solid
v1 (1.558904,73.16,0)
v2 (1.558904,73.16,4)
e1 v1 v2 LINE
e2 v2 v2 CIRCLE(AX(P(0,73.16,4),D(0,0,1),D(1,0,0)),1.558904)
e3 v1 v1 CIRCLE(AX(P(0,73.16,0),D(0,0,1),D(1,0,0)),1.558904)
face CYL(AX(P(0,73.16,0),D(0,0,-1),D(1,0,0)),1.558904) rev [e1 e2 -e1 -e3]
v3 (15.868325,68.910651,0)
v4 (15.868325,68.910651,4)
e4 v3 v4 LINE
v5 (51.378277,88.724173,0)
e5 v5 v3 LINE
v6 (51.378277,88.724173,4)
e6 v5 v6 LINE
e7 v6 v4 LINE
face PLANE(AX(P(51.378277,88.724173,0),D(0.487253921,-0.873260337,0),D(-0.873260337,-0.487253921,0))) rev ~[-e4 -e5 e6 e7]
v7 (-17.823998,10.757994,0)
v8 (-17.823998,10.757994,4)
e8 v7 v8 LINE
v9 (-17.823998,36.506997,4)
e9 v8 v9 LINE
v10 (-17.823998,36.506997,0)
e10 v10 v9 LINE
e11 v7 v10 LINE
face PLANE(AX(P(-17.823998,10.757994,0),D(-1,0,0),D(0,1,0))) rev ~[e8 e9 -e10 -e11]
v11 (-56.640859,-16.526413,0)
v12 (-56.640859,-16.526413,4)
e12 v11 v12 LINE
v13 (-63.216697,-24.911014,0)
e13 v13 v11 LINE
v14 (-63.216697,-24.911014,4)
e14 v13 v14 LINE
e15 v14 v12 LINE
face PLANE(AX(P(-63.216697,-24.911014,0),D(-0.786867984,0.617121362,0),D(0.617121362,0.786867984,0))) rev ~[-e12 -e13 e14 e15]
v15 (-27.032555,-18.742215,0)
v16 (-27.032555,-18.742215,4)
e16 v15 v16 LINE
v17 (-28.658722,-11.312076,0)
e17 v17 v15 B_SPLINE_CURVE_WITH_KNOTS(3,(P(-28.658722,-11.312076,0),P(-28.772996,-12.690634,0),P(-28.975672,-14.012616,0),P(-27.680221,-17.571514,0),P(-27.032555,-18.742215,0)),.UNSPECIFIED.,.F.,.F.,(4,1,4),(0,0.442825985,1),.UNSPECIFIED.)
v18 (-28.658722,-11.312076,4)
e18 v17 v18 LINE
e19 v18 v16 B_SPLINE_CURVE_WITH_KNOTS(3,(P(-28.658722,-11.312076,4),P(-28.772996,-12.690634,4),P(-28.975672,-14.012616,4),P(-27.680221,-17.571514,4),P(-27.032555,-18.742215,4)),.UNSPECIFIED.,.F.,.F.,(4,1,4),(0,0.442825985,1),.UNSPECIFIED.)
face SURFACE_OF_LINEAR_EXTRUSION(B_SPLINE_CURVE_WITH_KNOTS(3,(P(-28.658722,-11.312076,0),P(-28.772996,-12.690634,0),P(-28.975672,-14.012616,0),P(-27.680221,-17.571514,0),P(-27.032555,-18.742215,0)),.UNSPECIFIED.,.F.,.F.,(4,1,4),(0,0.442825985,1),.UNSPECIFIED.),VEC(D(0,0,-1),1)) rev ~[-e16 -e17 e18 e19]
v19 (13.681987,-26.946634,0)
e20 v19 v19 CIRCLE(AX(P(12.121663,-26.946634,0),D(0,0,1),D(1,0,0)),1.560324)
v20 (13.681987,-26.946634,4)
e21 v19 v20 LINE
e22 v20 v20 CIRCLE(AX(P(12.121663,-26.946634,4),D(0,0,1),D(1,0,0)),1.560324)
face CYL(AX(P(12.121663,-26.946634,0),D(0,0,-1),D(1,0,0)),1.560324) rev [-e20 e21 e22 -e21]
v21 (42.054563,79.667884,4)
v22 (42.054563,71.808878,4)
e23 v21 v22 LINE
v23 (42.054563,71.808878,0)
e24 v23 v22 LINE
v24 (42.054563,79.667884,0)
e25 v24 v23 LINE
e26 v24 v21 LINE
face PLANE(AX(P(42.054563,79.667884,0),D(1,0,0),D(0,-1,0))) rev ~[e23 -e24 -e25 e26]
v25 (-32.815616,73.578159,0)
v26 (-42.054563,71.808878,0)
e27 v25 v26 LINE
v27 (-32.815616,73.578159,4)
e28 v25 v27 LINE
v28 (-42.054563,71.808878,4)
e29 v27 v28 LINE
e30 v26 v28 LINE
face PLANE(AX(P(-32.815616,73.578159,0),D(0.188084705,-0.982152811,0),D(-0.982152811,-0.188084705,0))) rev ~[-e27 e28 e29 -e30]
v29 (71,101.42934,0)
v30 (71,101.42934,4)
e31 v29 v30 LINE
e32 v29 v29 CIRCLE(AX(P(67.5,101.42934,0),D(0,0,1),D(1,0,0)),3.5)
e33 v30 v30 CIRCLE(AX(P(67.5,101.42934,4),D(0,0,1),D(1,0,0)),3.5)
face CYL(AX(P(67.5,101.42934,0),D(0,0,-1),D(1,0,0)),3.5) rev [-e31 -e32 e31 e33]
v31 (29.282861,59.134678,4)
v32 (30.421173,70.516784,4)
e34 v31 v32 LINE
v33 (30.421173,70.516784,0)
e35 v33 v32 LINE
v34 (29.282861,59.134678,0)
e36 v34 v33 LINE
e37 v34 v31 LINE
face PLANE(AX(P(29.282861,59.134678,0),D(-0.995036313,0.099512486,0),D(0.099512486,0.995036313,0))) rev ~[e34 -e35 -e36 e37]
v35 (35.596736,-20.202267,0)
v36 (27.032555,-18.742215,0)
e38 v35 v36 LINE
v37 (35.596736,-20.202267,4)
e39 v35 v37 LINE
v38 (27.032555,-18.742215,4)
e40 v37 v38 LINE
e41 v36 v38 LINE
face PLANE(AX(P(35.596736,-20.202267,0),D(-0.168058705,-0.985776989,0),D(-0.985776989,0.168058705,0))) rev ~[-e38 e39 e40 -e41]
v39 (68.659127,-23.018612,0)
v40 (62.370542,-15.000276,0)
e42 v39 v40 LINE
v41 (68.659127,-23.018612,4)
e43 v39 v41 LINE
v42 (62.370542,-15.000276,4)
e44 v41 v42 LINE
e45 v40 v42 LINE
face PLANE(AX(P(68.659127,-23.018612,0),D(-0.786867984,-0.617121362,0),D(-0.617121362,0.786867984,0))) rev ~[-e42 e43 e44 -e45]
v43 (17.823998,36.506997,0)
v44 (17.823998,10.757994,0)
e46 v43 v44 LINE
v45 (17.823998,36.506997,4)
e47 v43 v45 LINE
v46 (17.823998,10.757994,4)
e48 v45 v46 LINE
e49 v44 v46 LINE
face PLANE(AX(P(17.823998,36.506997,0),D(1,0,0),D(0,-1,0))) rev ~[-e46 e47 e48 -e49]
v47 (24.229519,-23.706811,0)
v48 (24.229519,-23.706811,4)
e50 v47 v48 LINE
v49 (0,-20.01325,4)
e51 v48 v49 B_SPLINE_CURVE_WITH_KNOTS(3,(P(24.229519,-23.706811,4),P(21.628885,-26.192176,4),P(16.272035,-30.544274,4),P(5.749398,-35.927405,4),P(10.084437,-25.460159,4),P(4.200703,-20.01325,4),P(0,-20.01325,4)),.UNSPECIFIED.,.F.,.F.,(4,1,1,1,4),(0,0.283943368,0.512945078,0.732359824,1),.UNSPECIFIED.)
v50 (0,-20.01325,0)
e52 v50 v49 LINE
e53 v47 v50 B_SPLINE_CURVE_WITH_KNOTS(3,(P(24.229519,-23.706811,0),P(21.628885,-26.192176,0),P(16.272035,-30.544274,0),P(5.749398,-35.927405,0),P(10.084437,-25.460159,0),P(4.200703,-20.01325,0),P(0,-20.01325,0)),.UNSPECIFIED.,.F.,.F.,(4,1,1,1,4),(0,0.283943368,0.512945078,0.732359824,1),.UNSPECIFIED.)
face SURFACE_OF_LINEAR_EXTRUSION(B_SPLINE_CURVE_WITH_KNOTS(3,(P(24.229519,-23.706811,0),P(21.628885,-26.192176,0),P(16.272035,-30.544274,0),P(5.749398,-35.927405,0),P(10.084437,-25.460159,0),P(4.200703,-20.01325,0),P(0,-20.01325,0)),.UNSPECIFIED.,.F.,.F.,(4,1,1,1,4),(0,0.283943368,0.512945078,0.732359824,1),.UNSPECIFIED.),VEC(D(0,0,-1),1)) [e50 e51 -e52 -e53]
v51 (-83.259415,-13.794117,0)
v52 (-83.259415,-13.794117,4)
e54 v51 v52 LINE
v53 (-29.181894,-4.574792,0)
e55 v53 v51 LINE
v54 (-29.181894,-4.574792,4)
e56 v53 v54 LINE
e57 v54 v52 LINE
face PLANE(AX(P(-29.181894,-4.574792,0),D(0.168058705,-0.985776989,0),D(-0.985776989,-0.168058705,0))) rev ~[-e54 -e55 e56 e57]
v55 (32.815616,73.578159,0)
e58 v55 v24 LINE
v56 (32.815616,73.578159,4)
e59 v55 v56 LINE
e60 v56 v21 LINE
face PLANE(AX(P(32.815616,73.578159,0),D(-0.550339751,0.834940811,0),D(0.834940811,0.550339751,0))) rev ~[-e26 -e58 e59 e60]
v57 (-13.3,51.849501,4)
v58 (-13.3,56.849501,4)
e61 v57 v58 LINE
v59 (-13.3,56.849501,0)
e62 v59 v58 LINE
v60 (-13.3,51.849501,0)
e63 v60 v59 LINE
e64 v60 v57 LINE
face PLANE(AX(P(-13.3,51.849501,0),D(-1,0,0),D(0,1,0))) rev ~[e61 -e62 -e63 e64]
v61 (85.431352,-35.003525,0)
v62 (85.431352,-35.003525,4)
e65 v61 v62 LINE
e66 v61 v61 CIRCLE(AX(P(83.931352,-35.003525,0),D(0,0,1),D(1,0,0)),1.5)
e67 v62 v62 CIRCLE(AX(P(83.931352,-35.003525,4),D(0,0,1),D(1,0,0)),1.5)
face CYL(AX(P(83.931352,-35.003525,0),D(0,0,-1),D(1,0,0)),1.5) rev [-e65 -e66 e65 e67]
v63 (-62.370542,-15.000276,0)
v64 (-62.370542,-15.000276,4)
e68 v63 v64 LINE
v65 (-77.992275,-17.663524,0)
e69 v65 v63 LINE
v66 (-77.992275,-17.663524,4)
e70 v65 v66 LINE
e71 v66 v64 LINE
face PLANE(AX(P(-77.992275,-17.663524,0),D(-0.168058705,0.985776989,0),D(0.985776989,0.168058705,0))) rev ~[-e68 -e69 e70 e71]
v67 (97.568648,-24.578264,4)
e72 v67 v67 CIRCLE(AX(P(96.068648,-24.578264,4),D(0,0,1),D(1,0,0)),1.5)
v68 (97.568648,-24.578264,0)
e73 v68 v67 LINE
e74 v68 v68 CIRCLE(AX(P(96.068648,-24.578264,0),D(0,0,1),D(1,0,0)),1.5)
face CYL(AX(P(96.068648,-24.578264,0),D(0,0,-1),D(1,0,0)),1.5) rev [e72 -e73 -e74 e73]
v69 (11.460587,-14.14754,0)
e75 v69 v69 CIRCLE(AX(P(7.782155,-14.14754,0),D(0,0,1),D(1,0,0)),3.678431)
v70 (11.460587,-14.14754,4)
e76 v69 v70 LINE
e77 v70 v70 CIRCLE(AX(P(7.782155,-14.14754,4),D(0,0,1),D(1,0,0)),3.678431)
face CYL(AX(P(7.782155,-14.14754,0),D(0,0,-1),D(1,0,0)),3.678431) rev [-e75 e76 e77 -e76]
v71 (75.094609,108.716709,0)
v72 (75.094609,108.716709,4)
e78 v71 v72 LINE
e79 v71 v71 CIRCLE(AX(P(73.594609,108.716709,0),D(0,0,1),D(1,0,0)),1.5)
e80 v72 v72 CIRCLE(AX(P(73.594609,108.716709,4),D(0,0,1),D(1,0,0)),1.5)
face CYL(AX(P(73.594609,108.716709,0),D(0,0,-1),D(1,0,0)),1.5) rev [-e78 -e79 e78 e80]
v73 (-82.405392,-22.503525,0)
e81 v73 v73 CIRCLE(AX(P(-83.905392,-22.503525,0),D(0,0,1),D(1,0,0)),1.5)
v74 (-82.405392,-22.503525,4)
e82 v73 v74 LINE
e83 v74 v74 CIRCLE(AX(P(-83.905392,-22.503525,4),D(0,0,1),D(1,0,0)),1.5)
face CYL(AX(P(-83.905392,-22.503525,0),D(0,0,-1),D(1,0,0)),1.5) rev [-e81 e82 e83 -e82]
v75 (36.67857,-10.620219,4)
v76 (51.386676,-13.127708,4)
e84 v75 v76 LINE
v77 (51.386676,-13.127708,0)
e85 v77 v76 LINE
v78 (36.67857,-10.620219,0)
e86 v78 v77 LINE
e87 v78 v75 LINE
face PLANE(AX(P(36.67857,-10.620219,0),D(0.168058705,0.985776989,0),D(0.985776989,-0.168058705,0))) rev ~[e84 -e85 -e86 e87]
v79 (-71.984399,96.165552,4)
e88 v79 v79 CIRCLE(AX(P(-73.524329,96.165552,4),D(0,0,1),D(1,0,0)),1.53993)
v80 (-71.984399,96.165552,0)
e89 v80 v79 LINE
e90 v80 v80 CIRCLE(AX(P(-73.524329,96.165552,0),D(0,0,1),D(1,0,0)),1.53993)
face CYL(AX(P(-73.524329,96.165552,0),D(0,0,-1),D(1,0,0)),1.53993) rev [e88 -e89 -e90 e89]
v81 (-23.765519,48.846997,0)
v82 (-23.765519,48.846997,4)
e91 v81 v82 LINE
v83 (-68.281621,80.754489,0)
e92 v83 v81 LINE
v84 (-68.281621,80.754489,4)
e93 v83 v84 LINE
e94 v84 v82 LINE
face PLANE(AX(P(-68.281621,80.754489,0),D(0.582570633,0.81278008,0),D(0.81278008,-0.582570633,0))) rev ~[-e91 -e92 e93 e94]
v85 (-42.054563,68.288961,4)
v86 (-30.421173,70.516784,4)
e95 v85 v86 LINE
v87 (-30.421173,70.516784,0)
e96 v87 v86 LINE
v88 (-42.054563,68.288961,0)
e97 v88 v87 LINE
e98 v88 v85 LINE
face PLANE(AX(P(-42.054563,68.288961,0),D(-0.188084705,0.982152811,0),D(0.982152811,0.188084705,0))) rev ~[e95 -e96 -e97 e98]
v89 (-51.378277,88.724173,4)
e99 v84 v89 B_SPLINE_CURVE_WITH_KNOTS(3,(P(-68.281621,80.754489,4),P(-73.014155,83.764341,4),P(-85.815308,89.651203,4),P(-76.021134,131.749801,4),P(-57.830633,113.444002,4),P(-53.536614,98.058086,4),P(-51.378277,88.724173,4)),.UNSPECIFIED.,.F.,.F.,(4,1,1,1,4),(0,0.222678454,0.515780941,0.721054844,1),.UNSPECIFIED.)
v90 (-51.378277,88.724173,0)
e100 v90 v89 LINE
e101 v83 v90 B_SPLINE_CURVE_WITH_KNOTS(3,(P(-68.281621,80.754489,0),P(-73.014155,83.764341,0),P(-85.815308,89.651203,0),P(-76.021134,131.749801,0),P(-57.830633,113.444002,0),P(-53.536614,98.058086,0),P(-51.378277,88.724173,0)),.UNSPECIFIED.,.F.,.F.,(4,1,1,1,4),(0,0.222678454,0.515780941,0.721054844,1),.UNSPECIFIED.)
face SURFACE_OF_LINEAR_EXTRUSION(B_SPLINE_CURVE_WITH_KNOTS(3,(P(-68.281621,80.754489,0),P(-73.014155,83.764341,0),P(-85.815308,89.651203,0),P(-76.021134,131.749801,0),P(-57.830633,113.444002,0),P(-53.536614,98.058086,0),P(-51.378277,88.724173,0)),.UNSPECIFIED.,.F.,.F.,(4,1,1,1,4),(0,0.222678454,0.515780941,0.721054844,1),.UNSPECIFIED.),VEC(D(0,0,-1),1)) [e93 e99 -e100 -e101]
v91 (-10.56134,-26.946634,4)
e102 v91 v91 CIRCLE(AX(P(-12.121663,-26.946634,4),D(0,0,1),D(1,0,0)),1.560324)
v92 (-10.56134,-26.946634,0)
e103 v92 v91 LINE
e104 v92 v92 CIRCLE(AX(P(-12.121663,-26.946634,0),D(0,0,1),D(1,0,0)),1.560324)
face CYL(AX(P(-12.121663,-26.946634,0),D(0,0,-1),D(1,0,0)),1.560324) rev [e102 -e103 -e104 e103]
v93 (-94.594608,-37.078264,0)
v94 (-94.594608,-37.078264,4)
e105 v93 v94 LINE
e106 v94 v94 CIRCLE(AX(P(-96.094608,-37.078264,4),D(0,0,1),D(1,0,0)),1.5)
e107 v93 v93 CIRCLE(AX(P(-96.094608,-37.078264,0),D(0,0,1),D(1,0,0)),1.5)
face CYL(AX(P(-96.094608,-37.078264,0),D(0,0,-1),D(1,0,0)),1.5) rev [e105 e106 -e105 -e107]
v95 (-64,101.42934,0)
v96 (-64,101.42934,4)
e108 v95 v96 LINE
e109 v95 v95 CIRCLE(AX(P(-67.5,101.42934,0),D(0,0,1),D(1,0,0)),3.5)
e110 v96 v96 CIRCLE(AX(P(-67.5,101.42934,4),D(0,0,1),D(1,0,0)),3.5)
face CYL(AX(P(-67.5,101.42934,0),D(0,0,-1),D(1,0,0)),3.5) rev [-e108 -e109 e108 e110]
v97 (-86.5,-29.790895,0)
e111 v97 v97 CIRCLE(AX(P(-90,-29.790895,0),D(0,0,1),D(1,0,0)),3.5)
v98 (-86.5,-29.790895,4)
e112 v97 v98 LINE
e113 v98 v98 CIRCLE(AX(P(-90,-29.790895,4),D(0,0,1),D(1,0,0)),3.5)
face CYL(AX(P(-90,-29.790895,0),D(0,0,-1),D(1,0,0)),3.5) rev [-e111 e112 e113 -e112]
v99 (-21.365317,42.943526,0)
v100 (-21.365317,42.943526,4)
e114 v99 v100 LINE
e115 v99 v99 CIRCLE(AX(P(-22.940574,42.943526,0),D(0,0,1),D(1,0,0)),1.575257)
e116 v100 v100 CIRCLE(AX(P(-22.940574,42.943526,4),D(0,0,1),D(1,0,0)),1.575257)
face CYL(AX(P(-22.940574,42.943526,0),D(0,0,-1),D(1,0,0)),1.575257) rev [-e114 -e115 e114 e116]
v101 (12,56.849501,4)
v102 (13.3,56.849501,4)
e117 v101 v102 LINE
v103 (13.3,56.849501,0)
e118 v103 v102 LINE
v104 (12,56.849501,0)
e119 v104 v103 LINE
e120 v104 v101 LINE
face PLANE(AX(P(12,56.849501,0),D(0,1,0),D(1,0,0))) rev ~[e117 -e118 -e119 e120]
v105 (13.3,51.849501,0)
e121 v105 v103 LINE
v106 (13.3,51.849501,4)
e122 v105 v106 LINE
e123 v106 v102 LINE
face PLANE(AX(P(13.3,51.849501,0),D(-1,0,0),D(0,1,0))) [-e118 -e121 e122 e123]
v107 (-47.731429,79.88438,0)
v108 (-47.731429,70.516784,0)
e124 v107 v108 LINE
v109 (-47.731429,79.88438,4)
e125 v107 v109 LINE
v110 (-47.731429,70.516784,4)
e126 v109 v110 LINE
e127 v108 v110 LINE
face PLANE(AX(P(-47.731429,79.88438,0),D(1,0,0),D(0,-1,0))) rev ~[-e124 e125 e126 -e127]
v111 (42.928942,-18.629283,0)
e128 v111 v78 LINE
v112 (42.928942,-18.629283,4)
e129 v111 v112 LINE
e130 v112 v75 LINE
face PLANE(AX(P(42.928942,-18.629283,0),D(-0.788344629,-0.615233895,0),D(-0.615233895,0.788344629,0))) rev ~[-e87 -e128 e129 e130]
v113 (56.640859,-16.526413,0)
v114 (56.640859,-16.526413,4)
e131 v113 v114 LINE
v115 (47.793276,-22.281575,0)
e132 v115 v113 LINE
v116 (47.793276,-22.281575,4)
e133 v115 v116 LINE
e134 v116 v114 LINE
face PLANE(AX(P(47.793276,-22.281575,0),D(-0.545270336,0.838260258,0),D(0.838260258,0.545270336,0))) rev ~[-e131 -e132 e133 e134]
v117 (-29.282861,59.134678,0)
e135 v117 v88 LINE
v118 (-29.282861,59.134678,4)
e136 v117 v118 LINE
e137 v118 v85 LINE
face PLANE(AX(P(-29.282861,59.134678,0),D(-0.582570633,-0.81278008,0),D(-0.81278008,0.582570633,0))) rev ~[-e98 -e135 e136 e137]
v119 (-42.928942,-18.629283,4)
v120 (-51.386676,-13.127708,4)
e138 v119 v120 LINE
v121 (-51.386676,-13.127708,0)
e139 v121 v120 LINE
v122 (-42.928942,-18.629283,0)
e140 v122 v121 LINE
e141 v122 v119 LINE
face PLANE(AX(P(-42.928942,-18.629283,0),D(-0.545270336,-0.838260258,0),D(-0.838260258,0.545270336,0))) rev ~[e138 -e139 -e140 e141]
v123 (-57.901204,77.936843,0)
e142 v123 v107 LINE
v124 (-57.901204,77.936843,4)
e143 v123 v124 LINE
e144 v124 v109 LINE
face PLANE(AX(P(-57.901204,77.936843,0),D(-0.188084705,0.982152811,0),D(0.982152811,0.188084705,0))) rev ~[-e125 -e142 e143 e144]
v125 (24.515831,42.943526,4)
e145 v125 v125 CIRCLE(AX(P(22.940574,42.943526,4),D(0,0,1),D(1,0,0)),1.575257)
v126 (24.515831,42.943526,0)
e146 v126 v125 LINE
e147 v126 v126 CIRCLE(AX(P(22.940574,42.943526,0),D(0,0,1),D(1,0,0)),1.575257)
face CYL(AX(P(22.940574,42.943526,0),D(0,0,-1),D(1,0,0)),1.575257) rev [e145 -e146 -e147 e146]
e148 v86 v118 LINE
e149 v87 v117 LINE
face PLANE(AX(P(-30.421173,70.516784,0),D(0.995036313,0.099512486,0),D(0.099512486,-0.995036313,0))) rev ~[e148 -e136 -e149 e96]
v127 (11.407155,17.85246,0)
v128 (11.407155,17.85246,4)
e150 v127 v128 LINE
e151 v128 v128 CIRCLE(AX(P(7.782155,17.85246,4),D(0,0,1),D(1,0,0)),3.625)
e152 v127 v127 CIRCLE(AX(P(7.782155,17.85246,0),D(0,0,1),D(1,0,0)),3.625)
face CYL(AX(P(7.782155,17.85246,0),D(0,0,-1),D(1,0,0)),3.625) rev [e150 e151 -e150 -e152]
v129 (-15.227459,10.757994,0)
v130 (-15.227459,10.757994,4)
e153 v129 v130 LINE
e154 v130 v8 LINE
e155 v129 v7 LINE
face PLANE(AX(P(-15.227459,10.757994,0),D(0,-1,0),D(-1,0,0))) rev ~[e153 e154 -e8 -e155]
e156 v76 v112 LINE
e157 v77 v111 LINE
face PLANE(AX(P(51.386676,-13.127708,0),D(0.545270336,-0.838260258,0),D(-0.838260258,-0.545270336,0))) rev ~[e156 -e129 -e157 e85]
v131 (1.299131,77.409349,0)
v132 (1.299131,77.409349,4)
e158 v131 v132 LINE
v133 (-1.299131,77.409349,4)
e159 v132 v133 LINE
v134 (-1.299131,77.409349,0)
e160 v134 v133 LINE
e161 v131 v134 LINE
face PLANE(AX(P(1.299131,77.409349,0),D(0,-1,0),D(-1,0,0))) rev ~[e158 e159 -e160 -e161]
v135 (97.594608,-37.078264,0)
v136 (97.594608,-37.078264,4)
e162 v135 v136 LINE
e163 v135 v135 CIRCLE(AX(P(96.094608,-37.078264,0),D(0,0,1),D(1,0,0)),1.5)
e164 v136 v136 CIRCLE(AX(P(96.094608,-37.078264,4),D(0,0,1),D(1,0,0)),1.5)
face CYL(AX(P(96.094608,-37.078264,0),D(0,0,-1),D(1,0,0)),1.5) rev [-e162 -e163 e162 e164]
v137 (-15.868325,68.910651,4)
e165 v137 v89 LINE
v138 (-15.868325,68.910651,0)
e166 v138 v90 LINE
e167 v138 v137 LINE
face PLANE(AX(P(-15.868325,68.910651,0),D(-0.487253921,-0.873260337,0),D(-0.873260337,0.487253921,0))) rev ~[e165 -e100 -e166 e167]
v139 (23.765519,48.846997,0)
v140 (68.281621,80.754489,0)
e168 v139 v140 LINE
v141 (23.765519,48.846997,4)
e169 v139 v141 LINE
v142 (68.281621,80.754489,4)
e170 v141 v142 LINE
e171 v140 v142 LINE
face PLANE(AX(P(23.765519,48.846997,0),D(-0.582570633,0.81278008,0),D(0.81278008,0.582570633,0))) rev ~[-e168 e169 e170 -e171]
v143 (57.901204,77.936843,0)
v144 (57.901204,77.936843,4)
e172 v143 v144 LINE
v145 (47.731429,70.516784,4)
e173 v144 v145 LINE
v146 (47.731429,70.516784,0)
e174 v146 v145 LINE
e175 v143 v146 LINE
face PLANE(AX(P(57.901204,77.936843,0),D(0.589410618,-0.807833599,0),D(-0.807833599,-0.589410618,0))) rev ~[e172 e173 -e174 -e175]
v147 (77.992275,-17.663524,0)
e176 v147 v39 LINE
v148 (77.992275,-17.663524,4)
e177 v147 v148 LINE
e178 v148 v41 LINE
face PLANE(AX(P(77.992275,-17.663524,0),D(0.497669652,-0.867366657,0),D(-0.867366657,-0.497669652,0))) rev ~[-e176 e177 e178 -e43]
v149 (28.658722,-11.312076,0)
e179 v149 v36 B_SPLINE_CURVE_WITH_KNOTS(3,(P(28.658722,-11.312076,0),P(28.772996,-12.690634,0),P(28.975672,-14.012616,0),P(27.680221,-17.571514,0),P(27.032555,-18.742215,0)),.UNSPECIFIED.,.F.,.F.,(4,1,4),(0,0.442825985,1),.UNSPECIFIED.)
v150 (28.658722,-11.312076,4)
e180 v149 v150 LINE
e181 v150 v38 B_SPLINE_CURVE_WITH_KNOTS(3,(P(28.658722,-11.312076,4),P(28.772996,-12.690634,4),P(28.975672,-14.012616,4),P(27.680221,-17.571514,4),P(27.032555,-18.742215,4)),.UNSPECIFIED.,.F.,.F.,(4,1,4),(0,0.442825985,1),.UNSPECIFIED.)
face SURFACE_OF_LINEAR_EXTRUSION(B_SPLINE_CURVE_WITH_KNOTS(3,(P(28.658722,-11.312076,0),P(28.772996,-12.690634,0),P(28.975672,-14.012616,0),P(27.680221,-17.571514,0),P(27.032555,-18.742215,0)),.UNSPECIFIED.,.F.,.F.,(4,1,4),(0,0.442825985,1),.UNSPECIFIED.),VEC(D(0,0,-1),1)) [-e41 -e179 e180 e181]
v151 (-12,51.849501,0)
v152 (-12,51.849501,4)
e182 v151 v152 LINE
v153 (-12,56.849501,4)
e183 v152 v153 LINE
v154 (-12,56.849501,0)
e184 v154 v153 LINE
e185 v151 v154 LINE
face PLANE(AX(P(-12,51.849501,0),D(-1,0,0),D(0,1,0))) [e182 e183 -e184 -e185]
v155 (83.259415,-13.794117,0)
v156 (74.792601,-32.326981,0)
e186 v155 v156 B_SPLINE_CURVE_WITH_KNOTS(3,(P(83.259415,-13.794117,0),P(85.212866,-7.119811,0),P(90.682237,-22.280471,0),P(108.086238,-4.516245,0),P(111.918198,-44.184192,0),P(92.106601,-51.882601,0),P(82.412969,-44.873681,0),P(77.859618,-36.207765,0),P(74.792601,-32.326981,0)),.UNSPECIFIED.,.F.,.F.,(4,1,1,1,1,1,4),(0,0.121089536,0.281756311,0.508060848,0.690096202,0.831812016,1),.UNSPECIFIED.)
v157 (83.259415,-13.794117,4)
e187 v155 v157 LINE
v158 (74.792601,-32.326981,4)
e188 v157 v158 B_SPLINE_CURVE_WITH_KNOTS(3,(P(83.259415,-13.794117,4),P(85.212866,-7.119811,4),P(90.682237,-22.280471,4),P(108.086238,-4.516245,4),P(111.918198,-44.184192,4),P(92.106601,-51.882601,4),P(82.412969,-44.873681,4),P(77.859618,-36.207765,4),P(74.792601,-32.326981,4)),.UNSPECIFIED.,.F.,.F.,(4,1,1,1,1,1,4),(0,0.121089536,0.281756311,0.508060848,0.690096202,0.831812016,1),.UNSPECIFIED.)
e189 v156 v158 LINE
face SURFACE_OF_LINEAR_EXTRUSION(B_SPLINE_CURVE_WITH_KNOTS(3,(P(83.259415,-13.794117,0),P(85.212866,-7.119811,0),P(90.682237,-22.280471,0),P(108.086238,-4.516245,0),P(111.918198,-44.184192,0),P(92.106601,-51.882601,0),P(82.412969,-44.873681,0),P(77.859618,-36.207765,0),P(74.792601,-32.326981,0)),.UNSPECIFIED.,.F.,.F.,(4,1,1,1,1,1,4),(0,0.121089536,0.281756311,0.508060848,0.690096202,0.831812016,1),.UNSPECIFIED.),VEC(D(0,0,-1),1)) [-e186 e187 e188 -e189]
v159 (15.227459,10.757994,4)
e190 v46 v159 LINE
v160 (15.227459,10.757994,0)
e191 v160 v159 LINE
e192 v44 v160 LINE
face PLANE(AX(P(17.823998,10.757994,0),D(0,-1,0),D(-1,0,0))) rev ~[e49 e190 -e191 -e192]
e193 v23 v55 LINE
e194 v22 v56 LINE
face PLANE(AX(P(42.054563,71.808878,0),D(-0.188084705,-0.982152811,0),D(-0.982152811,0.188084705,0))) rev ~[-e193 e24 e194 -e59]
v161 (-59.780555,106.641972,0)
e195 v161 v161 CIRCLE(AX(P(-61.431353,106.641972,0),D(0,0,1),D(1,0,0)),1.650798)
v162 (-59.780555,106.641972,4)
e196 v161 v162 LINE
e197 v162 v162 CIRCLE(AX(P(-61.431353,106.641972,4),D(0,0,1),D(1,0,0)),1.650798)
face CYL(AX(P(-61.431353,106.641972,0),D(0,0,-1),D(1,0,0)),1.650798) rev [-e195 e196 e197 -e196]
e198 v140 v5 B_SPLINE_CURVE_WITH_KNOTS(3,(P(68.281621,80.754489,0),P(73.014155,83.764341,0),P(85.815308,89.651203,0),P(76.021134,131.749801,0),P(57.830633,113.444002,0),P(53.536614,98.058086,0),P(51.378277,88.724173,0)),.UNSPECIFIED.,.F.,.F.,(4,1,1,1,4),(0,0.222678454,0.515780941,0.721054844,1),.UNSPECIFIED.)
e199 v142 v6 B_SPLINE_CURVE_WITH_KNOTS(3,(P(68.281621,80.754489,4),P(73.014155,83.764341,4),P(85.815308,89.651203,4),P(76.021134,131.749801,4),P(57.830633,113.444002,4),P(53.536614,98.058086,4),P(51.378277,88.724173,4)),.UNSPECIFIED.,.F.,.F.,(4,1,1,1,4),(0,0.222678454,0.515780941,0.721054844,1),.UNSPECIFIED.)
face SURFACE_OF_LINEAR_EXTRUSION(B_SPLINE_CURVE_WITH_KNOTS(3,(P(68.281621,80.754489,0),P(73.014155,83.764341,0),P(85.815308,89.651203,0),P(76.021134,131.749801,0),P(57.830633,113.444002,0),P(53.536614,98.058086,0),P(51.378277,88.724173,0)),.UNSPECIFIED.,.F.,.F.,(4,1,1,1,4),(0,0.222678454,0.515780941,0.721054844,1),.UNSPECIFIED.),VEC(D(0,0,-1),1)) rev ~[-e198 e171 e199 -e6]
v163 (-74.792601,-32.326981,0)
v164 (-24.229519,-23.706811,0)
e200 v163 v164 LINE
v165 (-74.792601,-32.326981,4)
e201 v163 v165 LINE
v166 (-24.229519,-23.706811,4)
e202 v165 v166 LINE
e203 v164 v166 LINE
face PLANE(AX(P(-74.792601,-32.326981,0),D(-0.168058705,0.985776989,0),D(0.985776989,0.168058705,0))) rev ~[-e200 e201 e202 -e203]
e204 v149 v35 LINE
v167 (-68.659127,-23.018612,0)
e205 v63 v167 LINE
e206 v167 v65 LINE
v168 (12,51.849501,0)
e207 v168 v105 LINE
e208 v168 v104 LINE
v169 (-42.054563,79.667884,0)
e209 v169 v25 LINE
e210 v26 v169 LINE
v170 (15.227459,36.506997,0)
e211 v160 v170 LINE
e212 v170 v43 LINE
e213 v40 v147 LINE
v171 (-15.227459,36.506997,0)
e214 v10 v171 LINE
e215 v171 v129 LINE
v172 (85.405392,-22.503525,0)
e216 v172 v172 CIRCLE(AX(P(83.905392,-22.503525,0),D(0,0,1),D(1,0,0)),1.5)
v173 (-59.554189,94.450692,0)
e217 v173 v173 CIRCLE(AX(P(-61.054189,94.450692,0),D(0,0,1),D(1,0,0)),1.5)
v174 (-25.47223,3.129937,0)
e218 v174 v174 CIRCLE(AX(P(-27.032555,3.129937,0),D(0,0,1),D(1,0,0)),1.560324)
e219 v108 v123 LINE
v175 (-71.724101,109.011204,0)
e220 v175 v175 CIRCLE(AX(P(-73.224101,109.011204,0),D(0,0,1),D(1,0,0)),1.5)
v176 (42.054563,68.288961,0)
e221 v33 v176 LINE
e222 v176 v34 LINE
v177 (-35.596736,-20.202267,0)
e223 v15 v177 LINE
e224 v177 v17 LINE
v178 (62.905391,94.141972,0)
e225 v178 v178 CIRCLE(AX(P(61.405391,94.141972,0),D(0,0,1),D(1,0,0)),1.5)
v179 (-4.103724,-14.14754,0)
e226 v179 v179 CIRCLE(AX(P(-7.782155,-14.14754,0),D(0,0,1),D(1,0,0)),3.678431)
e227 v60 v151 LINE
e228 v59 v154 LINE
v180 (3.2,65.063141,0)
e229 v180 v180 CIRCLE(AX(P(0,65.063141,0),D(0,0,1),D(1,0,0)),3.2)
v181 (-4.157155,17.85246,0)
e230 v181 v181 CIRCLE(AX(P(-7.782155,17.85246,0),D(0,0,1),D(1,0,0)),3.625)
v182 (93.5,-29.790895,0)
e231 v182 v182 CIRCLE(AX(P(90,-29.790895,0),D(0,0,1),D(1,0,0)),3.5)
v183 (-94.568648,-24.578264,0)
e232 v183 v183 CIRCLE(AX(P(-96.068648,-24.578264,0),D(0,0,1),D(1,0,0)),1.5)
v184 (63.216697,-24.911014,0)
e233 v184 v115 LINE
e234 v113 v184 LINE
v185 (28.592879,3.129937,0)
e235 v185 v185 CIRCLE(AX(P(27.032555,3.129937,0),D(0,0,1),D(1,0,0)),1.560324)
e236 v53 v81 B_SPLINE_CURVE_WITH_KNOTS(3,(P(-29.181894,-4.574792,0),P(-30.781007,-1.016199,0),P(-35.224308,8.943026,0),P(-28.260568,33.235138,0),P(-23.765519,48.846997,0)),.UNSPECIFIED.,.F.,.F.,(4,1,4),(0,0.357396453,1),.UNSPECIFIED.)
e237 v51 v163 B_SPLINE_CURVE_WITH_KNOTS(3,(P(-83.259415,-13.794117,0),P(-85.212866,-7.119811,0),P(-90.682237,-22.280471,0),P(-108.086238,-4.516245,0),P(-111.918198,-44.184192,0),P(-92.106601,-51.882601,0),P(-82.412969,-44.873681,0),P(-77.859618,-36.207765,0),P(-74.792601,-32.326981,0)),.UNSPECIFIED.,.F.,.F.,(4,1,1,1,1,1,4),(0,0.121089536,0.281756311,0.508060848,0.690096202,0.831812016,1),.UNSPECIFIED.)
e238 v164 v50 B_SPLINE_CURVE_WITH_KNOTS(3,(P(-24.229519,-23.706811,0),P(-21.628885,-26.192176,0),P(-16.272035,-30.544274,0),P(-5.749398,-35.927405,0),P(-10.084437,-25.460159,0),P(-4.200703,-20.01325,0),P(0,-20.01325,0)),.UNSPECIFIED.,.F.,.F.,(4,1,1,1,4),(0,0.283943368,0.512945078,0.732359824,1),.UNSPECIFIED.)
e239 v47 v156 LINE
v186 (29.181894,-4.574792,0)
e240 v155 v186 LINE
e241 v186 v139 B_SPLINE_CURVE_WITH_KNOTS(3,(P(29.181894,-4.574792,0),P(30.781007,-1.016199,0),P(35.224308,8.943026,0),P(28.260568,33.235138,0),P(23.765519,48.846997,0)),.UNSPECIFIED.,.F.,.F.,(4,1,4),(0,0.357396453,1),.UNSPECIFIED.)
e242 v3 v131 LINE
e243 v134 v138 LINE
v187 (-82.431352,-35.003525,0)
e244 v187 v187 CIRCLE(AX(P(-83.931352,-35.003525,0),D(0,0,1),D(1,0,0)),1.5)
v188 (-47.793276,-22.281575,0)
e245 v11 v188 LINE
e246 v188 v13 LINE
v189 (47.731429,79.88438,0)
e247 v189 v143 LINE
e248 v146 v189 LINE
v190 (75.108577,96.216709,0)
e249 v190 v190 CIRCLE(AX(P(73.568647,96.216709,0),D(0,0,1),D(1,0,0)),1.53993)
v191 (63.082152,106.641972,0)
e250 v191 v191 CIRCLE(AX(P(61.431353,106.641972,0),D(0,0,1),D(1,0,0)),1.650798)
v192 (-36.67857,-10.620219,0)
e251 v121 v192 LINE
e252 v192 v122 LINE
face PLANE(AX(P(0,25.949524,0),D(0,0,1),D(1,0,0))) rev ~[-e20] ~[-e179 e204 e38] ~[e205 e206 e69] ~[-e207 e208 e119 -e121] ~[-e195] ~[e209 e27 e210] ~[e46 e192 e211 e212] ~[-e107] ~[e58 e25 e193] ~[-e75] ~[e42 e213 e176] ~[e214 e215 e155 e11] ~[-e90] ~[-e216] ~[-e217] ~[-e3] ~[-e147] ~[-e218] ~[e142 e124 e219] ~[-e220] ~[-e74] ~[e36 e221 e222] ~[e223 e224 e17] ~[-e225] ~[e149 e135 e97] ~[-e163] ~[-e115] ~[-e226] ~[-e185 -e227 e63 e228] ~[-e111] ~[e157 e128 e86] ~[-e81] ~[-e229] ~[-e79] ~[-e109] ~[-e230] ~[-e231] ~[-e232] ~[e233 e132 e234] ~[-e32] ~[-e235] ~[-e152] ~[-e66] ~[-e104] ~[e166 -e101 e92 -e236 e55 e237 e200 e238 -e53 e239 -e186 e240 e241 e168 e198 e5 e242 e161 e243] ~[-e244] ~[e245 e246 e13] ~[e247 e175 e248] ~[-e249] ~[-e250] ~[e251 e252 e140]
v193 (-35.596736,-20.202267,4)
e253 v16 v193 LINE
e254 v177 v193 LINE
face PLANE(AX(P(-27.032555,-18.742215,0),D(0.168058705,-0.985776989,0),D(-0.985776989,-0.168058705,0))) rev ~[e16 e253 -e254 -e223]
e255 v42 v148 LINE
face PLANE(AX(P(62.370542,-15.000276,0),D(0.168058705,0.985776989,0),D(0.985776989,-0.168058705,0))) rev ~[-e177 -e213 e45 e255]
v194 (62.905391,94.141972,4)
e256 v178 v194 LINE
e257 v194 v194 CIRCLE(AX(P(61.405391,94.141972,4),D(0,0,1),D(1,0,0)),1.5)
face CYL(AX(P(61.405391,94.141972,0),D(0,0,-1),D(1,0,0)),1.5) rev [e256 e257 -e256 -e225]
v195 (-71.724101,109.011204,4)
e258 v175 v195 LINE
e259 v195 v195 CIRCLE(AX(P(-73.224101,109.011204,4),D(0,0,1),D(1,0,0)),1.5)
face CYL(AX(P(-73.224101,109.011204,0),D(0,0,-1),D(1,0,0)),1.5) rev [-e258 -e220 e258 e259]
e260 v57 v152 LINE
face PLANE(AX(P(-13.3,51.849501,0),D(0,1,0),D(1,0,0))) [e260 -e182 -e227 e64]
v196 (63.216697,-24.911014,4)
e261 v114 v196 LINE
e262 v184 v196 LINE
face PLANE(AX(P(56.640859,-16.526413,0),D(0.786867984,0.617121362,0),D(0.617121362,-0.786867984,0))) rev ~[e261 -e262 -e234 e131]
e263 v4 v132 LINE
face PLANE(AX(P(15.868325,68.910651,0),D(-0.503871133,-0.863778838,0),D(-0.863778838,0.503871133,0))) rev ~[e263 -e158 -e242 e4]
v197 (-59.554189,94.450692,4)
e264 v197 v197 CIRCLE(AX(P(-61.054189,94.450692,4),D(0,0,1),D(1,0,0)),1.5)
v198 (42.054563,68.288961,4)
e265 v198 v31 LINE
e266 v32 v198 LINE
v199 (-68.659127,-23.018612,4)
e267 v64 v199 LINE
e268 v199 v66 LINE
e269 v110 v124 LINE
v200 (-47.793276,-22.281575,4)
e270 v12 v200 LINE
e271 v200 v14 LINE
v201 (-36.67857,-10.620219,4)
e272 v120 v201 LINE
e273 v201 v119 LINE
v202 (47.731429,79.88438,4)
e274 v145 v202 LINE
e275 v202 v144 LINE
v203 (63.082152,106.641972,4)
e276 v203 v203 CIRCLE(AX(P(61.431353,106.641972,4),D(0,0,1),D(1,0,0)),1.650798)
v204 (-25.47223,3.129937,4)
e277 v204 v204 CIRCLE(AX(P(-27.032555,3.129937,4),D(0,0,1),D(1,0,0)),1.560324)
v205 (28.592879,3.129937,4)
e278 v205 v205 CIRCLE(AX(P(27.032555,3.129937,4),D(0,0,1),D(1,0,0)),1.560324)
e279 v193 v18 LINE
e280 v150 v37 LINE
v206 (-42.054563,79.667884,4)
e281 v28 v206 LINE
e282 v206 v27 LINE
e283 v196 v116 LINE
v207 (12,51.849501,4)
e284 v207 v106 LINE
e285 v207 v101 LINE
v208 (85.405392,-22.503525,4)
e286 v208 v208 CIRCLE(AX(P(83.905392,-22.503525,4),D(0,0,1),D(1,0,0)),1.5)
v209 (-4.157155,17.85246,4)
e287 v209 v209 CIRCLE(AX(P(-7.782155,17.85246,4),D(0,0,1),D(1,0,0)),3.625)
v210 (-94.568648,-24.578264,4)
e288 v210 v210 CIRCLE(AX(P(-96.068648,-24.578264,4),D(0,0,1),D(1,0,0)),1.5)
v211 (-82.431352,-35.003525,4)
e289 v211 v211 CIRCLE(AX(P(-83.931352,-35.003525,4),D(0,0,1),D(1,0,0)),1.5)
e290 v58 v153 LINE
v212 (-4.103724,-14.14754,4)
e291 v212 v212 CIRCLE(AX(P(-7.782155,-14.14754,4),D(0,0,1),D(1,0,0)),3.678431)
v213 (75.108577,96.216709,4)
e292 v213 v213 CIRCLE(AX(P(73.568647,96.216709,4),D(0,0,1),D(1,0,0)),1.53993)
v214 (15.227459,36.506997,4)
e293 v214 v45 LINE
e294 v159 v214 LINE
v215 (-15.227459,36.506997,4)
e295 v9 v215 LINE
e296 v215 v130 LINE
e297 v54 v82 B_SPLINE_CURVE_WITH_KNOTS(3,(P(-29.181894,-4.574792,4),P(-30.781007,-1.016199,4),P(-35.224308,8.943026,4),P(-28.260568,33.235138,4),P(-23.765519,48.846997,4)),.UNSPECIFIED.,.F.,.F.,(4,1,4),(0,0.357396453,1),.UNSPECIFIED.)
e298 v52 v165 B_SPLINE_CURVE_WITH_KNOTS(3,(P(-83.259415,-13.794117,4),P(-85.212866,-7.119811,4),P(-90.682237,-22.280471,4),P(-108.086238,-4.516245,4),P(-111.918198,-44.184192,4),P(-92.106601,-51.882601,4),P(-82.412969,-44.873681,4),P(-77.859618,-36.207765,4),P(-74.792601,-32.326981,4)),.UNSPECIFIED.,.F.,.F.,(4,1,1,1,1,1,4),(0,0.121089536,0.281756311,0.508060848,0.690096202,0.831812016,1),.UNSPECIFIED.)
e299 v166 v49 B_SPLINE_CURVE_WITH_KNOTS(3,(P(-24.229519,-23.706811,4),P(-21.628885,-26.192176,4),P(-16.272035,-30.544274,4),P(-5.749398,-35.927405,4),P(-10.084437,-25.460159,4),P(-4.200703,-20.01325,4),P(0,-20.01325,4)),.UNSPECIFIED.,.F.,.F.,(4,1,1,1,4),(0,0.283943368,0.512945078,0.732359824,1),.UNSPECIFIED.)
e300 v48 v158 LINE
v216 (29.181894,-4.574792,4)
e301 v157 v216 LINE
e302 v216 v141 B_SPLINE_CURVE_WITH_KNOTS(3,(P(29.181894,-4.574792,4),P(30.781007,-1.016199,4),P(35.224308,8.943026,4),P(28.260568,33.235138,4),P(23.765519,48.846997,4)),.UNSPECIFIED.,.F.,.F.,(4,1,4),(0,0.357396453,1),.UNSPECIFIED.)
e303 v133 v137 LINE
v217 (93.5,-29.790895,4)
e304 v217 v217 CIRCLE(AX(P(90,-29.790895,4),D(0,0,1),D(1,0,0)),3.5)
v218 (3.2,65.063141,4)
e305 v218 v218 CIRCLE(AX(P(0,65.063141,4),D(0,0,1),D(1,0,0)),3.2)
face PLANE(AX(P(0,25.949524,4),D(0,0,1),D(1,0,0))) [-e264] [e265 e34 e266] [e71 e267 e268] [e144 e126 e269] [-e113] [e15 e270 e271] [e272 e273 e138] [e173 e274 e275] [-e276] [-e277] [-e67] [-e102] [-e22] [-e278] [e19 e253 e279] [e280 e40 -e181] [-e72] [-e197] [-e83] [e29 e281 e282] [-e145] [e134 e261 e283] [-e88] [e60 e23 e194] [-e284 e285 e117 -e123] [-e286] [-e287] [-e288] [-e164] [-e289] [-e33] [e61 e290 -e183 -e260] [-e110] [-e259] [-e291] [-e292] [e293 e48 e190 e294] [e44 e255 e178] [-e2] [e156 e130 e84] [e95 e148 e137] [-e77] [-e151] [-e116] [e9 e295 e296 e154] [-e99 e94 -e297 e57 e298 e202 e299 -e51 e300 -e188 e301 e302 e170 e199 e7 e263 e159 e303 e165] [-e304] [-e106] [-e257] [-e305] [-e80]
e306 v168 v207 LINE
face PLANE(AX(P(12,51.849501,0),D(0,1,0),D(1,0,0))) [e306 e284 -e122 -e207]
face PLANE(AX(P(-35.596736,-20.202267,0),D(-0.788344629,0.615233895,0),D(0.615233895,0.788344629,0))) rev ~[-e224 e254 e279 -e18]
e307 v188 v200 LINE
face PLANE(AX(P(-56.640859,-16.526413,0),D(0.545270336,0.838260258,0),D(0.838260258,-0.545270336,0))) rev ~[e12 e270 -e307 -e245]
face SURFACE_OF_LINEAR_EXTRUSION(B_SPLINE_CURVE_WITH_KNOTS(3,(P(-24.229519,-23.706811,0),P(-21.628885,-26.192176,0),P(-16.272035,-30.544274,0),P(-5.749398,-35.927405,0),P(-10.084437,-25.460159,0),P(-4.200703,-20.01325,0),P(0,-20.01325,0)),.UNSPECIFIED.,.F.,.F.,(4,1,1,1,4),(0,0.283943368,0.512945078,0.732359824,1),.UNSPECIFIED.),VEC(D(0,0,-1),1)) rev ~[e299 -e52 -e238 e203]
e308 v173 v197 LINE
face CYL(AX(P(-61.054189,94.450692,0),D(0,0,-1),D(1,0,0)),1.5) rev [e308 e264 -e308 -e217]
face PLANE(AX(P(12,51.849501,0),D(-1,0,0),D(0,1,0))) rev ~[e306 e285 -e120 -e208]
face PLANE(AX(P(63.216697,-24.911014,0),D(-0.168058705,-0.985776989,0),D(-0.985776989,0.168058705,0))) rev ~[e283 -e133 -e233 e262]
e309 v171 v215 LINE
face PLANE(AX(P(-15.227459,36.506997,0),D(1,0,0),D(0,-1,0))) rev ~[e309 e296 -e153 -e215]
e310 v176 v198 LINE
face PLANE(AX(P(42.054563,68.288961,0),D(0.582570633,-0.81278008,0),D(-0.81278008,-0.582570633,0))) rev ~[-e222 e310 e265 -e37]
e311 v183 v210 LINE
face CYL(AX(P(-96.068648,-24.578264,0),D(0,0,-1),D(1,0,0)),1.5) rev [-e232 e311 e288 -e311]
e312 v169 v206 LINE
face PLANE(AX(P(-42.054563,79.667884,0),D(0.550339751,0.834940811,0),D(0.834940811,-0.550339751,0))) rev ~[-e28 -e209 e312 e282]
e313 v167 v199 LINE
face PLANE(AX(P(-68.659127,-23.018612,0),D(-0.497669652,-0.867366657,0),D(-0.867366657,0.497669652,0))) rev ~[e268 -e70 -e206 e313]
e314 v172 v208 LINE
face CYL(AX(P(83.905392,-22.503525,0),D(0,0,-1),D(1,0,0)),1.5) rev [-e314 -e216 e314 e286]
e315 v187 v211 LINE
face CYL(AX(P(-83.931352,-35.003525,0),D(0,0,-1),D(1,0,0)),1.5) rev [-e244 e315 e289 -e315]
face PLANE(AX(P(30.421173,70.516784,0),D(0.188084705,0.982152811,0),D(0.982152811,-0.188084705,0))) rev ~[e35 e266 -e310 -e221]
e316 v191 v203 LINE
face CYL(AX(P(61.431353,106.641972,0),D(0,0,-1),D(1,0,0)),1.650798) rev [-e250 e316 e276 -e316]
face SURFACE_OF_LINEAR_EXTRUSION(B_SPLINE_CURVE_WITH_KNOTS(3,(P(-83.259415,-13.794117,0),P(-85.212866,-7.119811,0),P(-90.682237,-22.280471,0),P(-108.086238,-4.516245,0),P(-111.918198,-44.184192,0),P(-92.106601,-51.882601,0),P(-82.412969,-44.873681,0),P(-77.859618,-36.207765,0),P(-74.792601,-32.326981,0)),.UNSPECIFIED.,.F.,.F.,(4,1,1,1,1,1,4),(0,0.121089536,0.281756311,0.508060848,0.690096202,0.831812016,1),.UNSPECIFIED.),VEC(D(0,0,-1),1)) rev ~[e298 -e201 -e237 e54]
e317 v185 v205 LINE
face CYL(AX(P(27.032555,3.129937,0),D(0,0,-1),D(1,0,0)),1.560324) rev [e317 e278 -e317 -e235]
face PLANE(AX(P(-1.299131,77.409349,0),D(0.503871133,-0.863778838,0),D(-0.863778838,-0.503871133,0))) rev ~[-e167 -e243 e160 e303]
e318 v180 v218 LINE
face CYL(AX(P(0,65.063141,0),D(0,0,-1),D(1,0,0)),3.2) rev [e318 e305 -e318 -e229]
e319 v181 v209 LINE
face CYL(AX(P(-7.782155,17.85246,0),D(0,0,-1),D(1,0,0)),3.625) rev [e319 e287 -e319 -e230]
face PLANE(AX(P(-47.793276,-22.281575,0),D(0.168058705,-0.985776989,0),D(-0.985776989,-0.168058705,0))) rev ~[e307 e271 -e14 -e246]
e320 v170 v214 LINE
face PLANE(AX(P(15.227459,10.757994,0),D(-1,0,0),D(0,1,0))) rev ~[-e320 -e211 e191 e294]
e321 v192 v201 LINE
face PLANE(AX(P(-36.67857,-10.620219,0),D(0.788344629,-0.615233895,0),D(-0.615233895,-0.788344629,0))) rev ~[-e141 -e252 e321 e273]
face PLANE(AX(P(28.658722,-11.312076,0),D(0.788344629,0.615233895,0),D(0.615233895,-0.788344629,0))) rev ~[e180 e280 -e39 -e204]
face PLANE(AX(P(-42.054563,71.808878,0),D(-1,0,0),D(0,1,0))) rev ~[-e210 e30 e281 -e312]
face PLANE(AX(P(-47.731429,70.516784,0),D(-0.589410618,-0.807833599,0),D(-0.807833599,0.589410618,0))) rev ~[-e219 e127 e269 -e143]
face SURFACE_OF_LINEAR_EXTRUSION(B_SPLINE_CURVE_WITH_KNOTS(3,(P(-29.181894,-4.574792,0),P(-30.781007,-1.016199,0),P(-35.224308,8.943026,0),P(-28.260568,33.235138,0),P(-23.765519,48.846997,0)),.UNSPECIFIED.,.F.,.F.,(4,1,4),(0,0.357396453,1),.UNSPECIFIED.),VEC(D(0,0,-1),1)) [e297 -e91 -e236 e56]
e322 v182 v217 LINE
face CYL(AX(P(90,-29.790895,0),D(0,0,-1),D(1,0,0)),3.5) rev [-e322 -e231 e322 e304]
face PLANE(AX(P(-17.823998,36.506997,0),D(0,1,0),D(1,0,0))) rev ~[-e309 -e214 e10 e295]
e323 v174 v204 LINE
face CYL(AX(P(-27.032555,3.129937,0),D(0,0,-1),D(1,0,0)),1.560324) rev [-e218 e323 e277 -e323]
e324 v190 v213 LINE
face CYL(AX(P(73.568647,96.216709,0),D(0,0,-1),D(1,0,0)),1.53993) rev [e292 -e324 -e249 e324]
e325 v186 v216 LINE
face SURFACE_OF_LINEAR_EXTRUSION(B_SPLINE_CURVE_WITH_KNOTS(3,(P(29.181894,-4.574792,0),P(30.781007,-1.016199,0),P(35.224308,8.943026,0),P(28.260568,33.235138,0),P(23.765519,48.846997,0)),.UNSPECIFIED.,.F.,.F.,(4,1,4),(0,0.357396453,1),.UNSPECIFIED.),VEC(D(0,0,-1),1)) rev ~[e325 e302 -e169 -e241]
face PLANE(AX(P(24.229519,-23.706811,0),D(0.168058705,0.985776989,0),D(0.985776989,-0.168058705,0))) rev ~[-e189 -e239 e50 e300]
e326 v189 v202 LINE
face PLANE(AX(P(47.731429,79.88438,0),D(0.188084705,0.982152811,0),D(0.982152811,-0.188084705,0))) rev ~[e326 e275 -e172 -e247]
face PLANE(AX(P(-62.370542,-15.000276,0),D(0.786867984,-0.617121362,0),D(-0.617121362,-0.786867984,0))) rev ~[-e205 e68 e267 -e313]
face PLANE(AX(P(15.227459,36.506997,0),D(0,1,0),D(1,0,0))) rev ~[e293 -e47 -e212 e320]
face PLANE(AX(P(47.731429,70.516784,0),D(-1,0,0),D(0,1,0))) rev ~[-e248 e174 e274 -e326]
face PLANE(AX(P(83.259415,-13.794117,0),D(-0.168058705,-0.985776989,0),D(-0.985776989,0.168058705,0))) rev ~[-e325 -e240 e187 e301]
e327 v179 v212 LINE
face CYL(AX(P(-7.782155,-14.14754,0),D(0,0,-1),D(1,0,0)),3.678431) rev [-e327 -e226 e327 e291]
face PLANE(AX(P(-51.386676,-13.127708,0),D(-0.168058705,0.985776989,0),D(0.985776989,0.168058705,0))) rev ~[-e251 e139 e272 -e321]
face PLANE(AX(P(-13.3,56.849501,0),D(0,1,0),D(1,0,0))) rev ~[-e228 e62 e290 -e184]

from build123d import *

# Parameters (mm, degrees)
F0_R     = 1.5
F0_R_2   = 3.5
F0_R_3   = 1.5603237364
F0_R_4   = 3.6784313997
F0_R_5   = 1.5603242853
F0_R_6   = 3.625
F0_R_7   = 1.5752571854
F0_W     = 1.3
F0_H     = 5
F0_R_8   = 1.5399300147
F0_R_9   = 1.6507982875
F0_R_10  = 3.2
F0_R_11  = 1.5589040248
F1_DEPTH = 4


with BuildPart() as f1:
    # F0 (on Top) → F1 (new body)
    with BuildSketch(Plane.XY):
        with BuildLine():
            Line((-29.1818936738, -4.574792359), (-83.2594150145, -13.7941171149))
            add(Edge.make_bspline(
                [(-83.2594150145, -13.7941171149), (-85.2128662423, -7.1198106995), (-90.6822367524, -22.2804713121), (-108.0862384356, -4.5162453231), (-111.9181982359, -44.1841921073), (-92.1066011734, -51.8826009726), (-82.4129690985, -44.8736810905), (-77.8596176364, -36.2077649533), (-74.7926011467, -32.3269814806)],
                knots=[0, 0, 0, 0, 0.121089536, 0.2817563111, 0.5080608478, 0.6900962019, 0.831812016, 1, 1, 1, 1], degree=3))
            Line((-74.7926011467, -32.3269814806), (-24.2295190477, -23.7068106042))
            add(Edge.make_bspline(
                [(-24.2295190477, -23.7068106042), (-21.6288853246, -26.1921759515), (-16.2720345656, -30.5442738452), (-5.7493978014, -35.9274045563), (-10.0844366524, -25.4601589495), (-4.2007032984, -20.0132504784), (0, -20.0132504677)],
                knots=[0, 0, 0, 0, 0.2839433682, 0.512945078, 0.7323598241, 1, 1, 1, 1], degree=3))
            add(Edge.make_bspline(
                [(24.2295190477, -23.7068106042), (21.6288853246, -26.1921759515), (16.2720345656, -30.5442738452), (5.7493978014, -35.9274045563), (10.0844366524, -25.4601589495), (4.2007032984, -20.0132504784), (0, -20.0132504677)],
                knots=[0, 0, 0, 0, 0.2839433682, 0.512945078, 0.7323598241, 1, 1, 1, 1], degree=3))
            Line((24.2295190477, -23.7068106042), (74.7926011467, -32.3269814806))
            add(Edge.make_bspline(
                [(83.2594150145, -13.7941171149), (85.2128662423, -7.1198106995), (90.6822367524, -22.2804713121), (108.0862384356, -4.5162453231), (111.9181982359, -44.1841921073), (92.1066011734, -51.8826009726), (82.4129690985, -44.8736810905), (77.8596176364, -36.2077649533), (74.7926011467, -32.3269814806)],
                knots=[0, 0, 0, 0, 0.121089536, 0.2817563111, 0.5080608478, 0.6900962019, 0.831812016, 1, 1, 1, 1], degree=3))
            Line((83.2594150145, -13.7941171149), (29.1818936738, -4.574792359))
            add(Edge.make_bspline(
                [(29.1818936738, -4.574792359), (30.7810065558, -1.0161994533), (35.2243076311, 8.9430263145), (28.2605683304, 33.235137955), (23.7655192614, 48.8469973207)],
                knots=[0, 0, 0, 0, 0.3573964528, 1, 1, 1, 1], degree=3))
            Line((23.7655192614, 48.8469973207), (68.2816207409, 80.7544887066))
            add(Edge.make_bspline(
                [(68.2816207409, 80.7544887066), (73.0141547112, 83.7643409235), (85.815308199, 89.6512026107), (76.0211343692, 131.7498013392), (57.8306329026, 113.4440015977), (53.5366143847, 98.0580862949), (51.3782771962, 88.7241733146)],
                knots=[0, 0, 0, 0, 0.2226784539, 0.5157809414, 0.7210548443, 1, 1, 1, 1], degree=3))
            Line((51.3782771962, 88.7241733146), (15.8683248522, 68.9106506181))
            Line((15.8683248522, 68.9106506181), (1.2991311302, 77.4093493819))
            Line((1.2991311302, 77.4093493819), (0, 77.4093493819))
            Line((0, 77.4093493819), (-1.2991311302, 77.4093493819))
            Line((-1.2991311302, 77.4093493819), (-15.8683248522, 68.9106506181))
            Line((-15.8683248522, 68.9106506181), (-51.3782771962, 88.7241733146))
            add(Edge.make_bspline(
                [(-68.2816207409, 80.7544887066), (-73.0141547112, 83.7643409235), (-85.815308199, 89.6512026107), (-76.0211343692, 131.7498013392), (-57.8306329026, 113.4440015977), (-53.5366143847, 98.0580862949), (-51.3782771962, 88.7241733146)],
                knots=[0, 0, 0, 0, 0.2226784539, 0.5157809414, 0.7210548443, 1, 1, 1, 1], degree=3))
            Line((-68.2816207409, 80.7544887066), (-23.7655192614, 48.8469973207))
            add(Edge.make_bspline(
                [(-29.1818936738, -4.574792359), (-30.7810065558, -1.0161994533), (-35.2243076311, 8.9430263145), (-28.2605683304, 33.235137955), (-23.7655192614, 48.8469973207)],
                knots=[0, 0, 0, 0, 0.3573964528, 1, 1, 1, 1], degree=3))
        make_face()
        with Locations((-96.0946079995, -37.0782642412)):
            Circle(F0_R, mode=Mode.SUBTRACT)
        with Locations((-90, -29.7908948027)):
            Circle(F0_R_2, mode=Mode.SUBTRACT)
        with Locations((-83.9313524877, -35.0035253643)):
            Circle(F0_R, mode=Mode.SUBTRACT)
        with Locations((-96.0686475123, -24.5782642412)):
            Circle(F0_R, mode=Mode.SUBTRACT)
        with Locations((-83.9053920005, -22.5035253643)):
            Circle(F0_R, mode=Mode.SUBTRACT)
        Polygon((-68.6591267586, -23.018611595), (-77.9922753572, -17.6635235548), (-62.3705416318, -15.0002758154), align=None, mode=Mode.SUBTRACT)
        Polygon((-47.7932764983, -22.2815754728), (-63.2166972767, -24.9110141282), (-56.6408589283, -16.5264126881), align=None, mode=Mode.SUBTRACT)
        Polygon((-42.9289423631, -18.6292827273), (-51.3866762413, -13.1277080719), (-36.6785697721, -10.6202186988), align=None, mode=Mode.SUBTRACT)
        with BuildLine():
            Line((-27.0325545608, -18.7422150701), (-35.596736209, -20.2022666762))
            Line((-35.596736209, -20.2022666762), (-28.658721596, -11.3120761383))
            add(Edge.make_bspline(
                [(-28.658721596, -11.3120761383), (-28.7729959543, -12.6906338356), (-28.975672476, -14.0126159853), (-27.6802208506, -17.5715144674), (-27.0325545608, -18.7422150701)],
                knots=[0, 0, 0, 0, 0.4428259853, 1, 1, 1, 1], degree=3))
        make_face(mode=Mode.SUBTRACT)
        with Locations((-12.1216634288, -26.9466340542)):
            Circle(F0_R_3, mode=Mode.SUBTRACT)
        with Locations((-7.7821551822, -14.1475396231)):
            Circle(F0_R_4, mode=Mode.SUBTRACT)
        with Locations((-27.0325545608, 3.1299367547)):
            Circle(F0_R_5, mode=Mode.SUBTRACT)
        Polygon((-15.2274593711, 36.5069974214), (-15.2274593711, 17.2249544412), (-15.2274593711, 10.7579939067), (-17.823997885, 10.7579939067), (-17.823997885, 36.5069974214), align=None, mode=Mode.SUBTRACT)
        with Locations((-7.7821551822, 17.8524603769)):
            Circle(F0_R_6, mode=Mode.SUBTRACT)
        with Locations((12.1216634288, -26.9466340542)):
            Circle(F0_R_3, mode=Mode.SUBTRACT)
        with Locations((7.7821551822, -14.1475396231)):
            Circle(F0_R_4, mode=Mode.SUBTRACT)
        Polygon((47.7932764983, -22.2815754728), (56.6408589283, -16.5264126881), (63.2166972767, -24.9110141282), align=None, mode=Mode.SUBTRACT)
        with BuildLine():
            Line((28.658721596, -11.3120761383), (35.596736209, -20.2022666762))
            Line((35.596736209, -20.2022666762), (27.0325545608, -18.7422150701))
            add(Edge.make_bspline(
                [(28.658721596, -11.3120761383), (28.7729959543, -12.6906338356), (28.975672476, -14.0126159853), (27.6802208506, -17.5715144674), (27.0325545608, -18.7422150701)],
                knots=[0, 0, 0, 0, 0.4428259853, 1, 1, 1, 1], degree=3))
        make_face(mode=Mode.SUBTRACT)
        Polygon((51.3866762413, -13.1277080719), (42.9289423631, -18.6292827273), (36.6785697721, -10.6202186988), align=None, mode=Mode.SUBTRACT)
        with Locations((83.9313524877, -35.0035253643)):
            Circle(F0_R, mode=Mode.SUBTRACT)
        with Locations((96.0946079995, -37.0782642412)):
            Circle(F0_R, mode=Mode.SUBTRACT)
        with Locations((90, -29.7908948027)):
            Circle(F0_R_2, mode=Mode.SUBTRACT)
        Polygon((62.3705416318, -15.0002758154), (77.9922753572, -17.6635235548), (68.6591267586, -23.018611595), align=None, mode=Mode.SUBTRACT)
        with Locations((83.9053920005, -22.5035253643)):
            Circle(F0_R, mode=Mode.SUBTRACT)
        with Locations((96.0686475123, -24.5782642412)):
            Circle(F0_R, mode=Mode.SUBTRACT)
        with Locations((27.0325545608, 3.1299367547)):
            Circle(F0_R_5, mode=Mode.SUBTRACT)
        with Locations((7.7821551822, 17.8524603769)):
            Circle(F0_R_6, mode=Mode.SUBTRACT)
        Polygon((15.2274593711, 10.7579939067), (15.2274593711, 17.2249544412), (15.2274593711, 36.5069974214), (17.823997885, 36.5069974214), (17.823997885, 10.7579939067), align=None, mode=Mode.SUBTRACT)
        with Locations((-22.9405742139, 42.9435260594)):
            Circle(F0_R_7, mode=Mode.SUBTRACT)
        with Locations((-12.65, 54.3495012075)):
            Rectangle(F0_W, F0_H, mode=Mode.SUBTRACT)
        Polygon((-29.2828613347, 59.134678308), (-42.0545633841, 68.2889609065), (-30.4211732, 70.5167840533), align=None, mode=Mode.SUBTRACT)
        Polygon((-47.7314293385, 70.5167840533), (-57.9012036324, 77.9368430376), (-47.7314293385, 79.8843801022), align=None, mode=Mode.SUBTRACT)
        Polygon((-42.0545633841, 71.8088777594), (-42.0545633841, 79.667883837), (-32.8156164755, 73.5781590651), align=None, mode=Mode.SUBTRACT)
        with Locations((-73.5243286962, 96.1655519505)):
            Circle(F0_R_8, mode=Mode.SUBTRACT)
        with Locations((-61.0541890519, 94.4506923964)):
            Circle(F0_R, mode=Mode.SUBTRACT)
        with Locations((-67.5, 101.4293399174)):
            Circle(F0_R_2, mode=Mode.SUBTRACT)
        with Locations((-61.4313533865, 106.6419715253)):
            Circle(F0_R_9, mode=Mode.SUBTRACT)
        with Locations((-73.2241010011, 109.011204314)):
            Circle(F0_R, mode=Mode.SUBTRACT)
        with Locations((22.9405742139, 42.9435260594)):
            Circle(F0_R_7, mode=Mode.SUBTRACT)
        with Locations((12.65, 54.3495012075)):
            Rectangle(F0_W, F0_H, mode=Mode.SUBTRACT)
        with Locations((0, 65.0631412864)):
            Circle(F0_R_10, mode=Mode.SUBTRACT)
        with Locations((0, 73.16)):
            Circle(F0_R_11, mode=Mode.SUBTRACT)
        Polygon((30.4211732, 70.5167840533), (42.0545633841, 68.2889609065), (29.2828613347, 59.134678308), align=None, mode=Mode.SUBTRACT)
        Polygon((42.0545633841, 79.667883837), (42.0545633841, 71.8088777594), (32.8156164755, 73.5781590651), align=None, mode=Mode.SUBTRACT)
        Polygon((47.7314293385, 79.8843801022), (57.9012036324, 77.9368430376), (47.7314293385, 70.5167840533), align=None, mode=Mode.SUBTRACT)
        with Locations((61.4053907493, 94.1419715253)):
            Circle(F0_R, mode=Mode.SUBTRACT)
        with Locations((73.5686468667, 96.2167086041)):
            Circle(F0_R_8, mode=Mode.SUBTRACT)
        with Locations((67.5, 101.4293399174)):
            Circle(F0_R_2, mode=Mode.SUBTRACT)
        with Locations((61.4313533865, 106.6419715253)):
            Circle(F0_R_9, mode=Mode.SUBTRACT)
        with Locations((73.5946088983, 108.7167086041)):
            Circle(F0_R, mode=Mode.SUBTRACT)
    extrude(amount=F1_DEPTH)


solid = f1.part
